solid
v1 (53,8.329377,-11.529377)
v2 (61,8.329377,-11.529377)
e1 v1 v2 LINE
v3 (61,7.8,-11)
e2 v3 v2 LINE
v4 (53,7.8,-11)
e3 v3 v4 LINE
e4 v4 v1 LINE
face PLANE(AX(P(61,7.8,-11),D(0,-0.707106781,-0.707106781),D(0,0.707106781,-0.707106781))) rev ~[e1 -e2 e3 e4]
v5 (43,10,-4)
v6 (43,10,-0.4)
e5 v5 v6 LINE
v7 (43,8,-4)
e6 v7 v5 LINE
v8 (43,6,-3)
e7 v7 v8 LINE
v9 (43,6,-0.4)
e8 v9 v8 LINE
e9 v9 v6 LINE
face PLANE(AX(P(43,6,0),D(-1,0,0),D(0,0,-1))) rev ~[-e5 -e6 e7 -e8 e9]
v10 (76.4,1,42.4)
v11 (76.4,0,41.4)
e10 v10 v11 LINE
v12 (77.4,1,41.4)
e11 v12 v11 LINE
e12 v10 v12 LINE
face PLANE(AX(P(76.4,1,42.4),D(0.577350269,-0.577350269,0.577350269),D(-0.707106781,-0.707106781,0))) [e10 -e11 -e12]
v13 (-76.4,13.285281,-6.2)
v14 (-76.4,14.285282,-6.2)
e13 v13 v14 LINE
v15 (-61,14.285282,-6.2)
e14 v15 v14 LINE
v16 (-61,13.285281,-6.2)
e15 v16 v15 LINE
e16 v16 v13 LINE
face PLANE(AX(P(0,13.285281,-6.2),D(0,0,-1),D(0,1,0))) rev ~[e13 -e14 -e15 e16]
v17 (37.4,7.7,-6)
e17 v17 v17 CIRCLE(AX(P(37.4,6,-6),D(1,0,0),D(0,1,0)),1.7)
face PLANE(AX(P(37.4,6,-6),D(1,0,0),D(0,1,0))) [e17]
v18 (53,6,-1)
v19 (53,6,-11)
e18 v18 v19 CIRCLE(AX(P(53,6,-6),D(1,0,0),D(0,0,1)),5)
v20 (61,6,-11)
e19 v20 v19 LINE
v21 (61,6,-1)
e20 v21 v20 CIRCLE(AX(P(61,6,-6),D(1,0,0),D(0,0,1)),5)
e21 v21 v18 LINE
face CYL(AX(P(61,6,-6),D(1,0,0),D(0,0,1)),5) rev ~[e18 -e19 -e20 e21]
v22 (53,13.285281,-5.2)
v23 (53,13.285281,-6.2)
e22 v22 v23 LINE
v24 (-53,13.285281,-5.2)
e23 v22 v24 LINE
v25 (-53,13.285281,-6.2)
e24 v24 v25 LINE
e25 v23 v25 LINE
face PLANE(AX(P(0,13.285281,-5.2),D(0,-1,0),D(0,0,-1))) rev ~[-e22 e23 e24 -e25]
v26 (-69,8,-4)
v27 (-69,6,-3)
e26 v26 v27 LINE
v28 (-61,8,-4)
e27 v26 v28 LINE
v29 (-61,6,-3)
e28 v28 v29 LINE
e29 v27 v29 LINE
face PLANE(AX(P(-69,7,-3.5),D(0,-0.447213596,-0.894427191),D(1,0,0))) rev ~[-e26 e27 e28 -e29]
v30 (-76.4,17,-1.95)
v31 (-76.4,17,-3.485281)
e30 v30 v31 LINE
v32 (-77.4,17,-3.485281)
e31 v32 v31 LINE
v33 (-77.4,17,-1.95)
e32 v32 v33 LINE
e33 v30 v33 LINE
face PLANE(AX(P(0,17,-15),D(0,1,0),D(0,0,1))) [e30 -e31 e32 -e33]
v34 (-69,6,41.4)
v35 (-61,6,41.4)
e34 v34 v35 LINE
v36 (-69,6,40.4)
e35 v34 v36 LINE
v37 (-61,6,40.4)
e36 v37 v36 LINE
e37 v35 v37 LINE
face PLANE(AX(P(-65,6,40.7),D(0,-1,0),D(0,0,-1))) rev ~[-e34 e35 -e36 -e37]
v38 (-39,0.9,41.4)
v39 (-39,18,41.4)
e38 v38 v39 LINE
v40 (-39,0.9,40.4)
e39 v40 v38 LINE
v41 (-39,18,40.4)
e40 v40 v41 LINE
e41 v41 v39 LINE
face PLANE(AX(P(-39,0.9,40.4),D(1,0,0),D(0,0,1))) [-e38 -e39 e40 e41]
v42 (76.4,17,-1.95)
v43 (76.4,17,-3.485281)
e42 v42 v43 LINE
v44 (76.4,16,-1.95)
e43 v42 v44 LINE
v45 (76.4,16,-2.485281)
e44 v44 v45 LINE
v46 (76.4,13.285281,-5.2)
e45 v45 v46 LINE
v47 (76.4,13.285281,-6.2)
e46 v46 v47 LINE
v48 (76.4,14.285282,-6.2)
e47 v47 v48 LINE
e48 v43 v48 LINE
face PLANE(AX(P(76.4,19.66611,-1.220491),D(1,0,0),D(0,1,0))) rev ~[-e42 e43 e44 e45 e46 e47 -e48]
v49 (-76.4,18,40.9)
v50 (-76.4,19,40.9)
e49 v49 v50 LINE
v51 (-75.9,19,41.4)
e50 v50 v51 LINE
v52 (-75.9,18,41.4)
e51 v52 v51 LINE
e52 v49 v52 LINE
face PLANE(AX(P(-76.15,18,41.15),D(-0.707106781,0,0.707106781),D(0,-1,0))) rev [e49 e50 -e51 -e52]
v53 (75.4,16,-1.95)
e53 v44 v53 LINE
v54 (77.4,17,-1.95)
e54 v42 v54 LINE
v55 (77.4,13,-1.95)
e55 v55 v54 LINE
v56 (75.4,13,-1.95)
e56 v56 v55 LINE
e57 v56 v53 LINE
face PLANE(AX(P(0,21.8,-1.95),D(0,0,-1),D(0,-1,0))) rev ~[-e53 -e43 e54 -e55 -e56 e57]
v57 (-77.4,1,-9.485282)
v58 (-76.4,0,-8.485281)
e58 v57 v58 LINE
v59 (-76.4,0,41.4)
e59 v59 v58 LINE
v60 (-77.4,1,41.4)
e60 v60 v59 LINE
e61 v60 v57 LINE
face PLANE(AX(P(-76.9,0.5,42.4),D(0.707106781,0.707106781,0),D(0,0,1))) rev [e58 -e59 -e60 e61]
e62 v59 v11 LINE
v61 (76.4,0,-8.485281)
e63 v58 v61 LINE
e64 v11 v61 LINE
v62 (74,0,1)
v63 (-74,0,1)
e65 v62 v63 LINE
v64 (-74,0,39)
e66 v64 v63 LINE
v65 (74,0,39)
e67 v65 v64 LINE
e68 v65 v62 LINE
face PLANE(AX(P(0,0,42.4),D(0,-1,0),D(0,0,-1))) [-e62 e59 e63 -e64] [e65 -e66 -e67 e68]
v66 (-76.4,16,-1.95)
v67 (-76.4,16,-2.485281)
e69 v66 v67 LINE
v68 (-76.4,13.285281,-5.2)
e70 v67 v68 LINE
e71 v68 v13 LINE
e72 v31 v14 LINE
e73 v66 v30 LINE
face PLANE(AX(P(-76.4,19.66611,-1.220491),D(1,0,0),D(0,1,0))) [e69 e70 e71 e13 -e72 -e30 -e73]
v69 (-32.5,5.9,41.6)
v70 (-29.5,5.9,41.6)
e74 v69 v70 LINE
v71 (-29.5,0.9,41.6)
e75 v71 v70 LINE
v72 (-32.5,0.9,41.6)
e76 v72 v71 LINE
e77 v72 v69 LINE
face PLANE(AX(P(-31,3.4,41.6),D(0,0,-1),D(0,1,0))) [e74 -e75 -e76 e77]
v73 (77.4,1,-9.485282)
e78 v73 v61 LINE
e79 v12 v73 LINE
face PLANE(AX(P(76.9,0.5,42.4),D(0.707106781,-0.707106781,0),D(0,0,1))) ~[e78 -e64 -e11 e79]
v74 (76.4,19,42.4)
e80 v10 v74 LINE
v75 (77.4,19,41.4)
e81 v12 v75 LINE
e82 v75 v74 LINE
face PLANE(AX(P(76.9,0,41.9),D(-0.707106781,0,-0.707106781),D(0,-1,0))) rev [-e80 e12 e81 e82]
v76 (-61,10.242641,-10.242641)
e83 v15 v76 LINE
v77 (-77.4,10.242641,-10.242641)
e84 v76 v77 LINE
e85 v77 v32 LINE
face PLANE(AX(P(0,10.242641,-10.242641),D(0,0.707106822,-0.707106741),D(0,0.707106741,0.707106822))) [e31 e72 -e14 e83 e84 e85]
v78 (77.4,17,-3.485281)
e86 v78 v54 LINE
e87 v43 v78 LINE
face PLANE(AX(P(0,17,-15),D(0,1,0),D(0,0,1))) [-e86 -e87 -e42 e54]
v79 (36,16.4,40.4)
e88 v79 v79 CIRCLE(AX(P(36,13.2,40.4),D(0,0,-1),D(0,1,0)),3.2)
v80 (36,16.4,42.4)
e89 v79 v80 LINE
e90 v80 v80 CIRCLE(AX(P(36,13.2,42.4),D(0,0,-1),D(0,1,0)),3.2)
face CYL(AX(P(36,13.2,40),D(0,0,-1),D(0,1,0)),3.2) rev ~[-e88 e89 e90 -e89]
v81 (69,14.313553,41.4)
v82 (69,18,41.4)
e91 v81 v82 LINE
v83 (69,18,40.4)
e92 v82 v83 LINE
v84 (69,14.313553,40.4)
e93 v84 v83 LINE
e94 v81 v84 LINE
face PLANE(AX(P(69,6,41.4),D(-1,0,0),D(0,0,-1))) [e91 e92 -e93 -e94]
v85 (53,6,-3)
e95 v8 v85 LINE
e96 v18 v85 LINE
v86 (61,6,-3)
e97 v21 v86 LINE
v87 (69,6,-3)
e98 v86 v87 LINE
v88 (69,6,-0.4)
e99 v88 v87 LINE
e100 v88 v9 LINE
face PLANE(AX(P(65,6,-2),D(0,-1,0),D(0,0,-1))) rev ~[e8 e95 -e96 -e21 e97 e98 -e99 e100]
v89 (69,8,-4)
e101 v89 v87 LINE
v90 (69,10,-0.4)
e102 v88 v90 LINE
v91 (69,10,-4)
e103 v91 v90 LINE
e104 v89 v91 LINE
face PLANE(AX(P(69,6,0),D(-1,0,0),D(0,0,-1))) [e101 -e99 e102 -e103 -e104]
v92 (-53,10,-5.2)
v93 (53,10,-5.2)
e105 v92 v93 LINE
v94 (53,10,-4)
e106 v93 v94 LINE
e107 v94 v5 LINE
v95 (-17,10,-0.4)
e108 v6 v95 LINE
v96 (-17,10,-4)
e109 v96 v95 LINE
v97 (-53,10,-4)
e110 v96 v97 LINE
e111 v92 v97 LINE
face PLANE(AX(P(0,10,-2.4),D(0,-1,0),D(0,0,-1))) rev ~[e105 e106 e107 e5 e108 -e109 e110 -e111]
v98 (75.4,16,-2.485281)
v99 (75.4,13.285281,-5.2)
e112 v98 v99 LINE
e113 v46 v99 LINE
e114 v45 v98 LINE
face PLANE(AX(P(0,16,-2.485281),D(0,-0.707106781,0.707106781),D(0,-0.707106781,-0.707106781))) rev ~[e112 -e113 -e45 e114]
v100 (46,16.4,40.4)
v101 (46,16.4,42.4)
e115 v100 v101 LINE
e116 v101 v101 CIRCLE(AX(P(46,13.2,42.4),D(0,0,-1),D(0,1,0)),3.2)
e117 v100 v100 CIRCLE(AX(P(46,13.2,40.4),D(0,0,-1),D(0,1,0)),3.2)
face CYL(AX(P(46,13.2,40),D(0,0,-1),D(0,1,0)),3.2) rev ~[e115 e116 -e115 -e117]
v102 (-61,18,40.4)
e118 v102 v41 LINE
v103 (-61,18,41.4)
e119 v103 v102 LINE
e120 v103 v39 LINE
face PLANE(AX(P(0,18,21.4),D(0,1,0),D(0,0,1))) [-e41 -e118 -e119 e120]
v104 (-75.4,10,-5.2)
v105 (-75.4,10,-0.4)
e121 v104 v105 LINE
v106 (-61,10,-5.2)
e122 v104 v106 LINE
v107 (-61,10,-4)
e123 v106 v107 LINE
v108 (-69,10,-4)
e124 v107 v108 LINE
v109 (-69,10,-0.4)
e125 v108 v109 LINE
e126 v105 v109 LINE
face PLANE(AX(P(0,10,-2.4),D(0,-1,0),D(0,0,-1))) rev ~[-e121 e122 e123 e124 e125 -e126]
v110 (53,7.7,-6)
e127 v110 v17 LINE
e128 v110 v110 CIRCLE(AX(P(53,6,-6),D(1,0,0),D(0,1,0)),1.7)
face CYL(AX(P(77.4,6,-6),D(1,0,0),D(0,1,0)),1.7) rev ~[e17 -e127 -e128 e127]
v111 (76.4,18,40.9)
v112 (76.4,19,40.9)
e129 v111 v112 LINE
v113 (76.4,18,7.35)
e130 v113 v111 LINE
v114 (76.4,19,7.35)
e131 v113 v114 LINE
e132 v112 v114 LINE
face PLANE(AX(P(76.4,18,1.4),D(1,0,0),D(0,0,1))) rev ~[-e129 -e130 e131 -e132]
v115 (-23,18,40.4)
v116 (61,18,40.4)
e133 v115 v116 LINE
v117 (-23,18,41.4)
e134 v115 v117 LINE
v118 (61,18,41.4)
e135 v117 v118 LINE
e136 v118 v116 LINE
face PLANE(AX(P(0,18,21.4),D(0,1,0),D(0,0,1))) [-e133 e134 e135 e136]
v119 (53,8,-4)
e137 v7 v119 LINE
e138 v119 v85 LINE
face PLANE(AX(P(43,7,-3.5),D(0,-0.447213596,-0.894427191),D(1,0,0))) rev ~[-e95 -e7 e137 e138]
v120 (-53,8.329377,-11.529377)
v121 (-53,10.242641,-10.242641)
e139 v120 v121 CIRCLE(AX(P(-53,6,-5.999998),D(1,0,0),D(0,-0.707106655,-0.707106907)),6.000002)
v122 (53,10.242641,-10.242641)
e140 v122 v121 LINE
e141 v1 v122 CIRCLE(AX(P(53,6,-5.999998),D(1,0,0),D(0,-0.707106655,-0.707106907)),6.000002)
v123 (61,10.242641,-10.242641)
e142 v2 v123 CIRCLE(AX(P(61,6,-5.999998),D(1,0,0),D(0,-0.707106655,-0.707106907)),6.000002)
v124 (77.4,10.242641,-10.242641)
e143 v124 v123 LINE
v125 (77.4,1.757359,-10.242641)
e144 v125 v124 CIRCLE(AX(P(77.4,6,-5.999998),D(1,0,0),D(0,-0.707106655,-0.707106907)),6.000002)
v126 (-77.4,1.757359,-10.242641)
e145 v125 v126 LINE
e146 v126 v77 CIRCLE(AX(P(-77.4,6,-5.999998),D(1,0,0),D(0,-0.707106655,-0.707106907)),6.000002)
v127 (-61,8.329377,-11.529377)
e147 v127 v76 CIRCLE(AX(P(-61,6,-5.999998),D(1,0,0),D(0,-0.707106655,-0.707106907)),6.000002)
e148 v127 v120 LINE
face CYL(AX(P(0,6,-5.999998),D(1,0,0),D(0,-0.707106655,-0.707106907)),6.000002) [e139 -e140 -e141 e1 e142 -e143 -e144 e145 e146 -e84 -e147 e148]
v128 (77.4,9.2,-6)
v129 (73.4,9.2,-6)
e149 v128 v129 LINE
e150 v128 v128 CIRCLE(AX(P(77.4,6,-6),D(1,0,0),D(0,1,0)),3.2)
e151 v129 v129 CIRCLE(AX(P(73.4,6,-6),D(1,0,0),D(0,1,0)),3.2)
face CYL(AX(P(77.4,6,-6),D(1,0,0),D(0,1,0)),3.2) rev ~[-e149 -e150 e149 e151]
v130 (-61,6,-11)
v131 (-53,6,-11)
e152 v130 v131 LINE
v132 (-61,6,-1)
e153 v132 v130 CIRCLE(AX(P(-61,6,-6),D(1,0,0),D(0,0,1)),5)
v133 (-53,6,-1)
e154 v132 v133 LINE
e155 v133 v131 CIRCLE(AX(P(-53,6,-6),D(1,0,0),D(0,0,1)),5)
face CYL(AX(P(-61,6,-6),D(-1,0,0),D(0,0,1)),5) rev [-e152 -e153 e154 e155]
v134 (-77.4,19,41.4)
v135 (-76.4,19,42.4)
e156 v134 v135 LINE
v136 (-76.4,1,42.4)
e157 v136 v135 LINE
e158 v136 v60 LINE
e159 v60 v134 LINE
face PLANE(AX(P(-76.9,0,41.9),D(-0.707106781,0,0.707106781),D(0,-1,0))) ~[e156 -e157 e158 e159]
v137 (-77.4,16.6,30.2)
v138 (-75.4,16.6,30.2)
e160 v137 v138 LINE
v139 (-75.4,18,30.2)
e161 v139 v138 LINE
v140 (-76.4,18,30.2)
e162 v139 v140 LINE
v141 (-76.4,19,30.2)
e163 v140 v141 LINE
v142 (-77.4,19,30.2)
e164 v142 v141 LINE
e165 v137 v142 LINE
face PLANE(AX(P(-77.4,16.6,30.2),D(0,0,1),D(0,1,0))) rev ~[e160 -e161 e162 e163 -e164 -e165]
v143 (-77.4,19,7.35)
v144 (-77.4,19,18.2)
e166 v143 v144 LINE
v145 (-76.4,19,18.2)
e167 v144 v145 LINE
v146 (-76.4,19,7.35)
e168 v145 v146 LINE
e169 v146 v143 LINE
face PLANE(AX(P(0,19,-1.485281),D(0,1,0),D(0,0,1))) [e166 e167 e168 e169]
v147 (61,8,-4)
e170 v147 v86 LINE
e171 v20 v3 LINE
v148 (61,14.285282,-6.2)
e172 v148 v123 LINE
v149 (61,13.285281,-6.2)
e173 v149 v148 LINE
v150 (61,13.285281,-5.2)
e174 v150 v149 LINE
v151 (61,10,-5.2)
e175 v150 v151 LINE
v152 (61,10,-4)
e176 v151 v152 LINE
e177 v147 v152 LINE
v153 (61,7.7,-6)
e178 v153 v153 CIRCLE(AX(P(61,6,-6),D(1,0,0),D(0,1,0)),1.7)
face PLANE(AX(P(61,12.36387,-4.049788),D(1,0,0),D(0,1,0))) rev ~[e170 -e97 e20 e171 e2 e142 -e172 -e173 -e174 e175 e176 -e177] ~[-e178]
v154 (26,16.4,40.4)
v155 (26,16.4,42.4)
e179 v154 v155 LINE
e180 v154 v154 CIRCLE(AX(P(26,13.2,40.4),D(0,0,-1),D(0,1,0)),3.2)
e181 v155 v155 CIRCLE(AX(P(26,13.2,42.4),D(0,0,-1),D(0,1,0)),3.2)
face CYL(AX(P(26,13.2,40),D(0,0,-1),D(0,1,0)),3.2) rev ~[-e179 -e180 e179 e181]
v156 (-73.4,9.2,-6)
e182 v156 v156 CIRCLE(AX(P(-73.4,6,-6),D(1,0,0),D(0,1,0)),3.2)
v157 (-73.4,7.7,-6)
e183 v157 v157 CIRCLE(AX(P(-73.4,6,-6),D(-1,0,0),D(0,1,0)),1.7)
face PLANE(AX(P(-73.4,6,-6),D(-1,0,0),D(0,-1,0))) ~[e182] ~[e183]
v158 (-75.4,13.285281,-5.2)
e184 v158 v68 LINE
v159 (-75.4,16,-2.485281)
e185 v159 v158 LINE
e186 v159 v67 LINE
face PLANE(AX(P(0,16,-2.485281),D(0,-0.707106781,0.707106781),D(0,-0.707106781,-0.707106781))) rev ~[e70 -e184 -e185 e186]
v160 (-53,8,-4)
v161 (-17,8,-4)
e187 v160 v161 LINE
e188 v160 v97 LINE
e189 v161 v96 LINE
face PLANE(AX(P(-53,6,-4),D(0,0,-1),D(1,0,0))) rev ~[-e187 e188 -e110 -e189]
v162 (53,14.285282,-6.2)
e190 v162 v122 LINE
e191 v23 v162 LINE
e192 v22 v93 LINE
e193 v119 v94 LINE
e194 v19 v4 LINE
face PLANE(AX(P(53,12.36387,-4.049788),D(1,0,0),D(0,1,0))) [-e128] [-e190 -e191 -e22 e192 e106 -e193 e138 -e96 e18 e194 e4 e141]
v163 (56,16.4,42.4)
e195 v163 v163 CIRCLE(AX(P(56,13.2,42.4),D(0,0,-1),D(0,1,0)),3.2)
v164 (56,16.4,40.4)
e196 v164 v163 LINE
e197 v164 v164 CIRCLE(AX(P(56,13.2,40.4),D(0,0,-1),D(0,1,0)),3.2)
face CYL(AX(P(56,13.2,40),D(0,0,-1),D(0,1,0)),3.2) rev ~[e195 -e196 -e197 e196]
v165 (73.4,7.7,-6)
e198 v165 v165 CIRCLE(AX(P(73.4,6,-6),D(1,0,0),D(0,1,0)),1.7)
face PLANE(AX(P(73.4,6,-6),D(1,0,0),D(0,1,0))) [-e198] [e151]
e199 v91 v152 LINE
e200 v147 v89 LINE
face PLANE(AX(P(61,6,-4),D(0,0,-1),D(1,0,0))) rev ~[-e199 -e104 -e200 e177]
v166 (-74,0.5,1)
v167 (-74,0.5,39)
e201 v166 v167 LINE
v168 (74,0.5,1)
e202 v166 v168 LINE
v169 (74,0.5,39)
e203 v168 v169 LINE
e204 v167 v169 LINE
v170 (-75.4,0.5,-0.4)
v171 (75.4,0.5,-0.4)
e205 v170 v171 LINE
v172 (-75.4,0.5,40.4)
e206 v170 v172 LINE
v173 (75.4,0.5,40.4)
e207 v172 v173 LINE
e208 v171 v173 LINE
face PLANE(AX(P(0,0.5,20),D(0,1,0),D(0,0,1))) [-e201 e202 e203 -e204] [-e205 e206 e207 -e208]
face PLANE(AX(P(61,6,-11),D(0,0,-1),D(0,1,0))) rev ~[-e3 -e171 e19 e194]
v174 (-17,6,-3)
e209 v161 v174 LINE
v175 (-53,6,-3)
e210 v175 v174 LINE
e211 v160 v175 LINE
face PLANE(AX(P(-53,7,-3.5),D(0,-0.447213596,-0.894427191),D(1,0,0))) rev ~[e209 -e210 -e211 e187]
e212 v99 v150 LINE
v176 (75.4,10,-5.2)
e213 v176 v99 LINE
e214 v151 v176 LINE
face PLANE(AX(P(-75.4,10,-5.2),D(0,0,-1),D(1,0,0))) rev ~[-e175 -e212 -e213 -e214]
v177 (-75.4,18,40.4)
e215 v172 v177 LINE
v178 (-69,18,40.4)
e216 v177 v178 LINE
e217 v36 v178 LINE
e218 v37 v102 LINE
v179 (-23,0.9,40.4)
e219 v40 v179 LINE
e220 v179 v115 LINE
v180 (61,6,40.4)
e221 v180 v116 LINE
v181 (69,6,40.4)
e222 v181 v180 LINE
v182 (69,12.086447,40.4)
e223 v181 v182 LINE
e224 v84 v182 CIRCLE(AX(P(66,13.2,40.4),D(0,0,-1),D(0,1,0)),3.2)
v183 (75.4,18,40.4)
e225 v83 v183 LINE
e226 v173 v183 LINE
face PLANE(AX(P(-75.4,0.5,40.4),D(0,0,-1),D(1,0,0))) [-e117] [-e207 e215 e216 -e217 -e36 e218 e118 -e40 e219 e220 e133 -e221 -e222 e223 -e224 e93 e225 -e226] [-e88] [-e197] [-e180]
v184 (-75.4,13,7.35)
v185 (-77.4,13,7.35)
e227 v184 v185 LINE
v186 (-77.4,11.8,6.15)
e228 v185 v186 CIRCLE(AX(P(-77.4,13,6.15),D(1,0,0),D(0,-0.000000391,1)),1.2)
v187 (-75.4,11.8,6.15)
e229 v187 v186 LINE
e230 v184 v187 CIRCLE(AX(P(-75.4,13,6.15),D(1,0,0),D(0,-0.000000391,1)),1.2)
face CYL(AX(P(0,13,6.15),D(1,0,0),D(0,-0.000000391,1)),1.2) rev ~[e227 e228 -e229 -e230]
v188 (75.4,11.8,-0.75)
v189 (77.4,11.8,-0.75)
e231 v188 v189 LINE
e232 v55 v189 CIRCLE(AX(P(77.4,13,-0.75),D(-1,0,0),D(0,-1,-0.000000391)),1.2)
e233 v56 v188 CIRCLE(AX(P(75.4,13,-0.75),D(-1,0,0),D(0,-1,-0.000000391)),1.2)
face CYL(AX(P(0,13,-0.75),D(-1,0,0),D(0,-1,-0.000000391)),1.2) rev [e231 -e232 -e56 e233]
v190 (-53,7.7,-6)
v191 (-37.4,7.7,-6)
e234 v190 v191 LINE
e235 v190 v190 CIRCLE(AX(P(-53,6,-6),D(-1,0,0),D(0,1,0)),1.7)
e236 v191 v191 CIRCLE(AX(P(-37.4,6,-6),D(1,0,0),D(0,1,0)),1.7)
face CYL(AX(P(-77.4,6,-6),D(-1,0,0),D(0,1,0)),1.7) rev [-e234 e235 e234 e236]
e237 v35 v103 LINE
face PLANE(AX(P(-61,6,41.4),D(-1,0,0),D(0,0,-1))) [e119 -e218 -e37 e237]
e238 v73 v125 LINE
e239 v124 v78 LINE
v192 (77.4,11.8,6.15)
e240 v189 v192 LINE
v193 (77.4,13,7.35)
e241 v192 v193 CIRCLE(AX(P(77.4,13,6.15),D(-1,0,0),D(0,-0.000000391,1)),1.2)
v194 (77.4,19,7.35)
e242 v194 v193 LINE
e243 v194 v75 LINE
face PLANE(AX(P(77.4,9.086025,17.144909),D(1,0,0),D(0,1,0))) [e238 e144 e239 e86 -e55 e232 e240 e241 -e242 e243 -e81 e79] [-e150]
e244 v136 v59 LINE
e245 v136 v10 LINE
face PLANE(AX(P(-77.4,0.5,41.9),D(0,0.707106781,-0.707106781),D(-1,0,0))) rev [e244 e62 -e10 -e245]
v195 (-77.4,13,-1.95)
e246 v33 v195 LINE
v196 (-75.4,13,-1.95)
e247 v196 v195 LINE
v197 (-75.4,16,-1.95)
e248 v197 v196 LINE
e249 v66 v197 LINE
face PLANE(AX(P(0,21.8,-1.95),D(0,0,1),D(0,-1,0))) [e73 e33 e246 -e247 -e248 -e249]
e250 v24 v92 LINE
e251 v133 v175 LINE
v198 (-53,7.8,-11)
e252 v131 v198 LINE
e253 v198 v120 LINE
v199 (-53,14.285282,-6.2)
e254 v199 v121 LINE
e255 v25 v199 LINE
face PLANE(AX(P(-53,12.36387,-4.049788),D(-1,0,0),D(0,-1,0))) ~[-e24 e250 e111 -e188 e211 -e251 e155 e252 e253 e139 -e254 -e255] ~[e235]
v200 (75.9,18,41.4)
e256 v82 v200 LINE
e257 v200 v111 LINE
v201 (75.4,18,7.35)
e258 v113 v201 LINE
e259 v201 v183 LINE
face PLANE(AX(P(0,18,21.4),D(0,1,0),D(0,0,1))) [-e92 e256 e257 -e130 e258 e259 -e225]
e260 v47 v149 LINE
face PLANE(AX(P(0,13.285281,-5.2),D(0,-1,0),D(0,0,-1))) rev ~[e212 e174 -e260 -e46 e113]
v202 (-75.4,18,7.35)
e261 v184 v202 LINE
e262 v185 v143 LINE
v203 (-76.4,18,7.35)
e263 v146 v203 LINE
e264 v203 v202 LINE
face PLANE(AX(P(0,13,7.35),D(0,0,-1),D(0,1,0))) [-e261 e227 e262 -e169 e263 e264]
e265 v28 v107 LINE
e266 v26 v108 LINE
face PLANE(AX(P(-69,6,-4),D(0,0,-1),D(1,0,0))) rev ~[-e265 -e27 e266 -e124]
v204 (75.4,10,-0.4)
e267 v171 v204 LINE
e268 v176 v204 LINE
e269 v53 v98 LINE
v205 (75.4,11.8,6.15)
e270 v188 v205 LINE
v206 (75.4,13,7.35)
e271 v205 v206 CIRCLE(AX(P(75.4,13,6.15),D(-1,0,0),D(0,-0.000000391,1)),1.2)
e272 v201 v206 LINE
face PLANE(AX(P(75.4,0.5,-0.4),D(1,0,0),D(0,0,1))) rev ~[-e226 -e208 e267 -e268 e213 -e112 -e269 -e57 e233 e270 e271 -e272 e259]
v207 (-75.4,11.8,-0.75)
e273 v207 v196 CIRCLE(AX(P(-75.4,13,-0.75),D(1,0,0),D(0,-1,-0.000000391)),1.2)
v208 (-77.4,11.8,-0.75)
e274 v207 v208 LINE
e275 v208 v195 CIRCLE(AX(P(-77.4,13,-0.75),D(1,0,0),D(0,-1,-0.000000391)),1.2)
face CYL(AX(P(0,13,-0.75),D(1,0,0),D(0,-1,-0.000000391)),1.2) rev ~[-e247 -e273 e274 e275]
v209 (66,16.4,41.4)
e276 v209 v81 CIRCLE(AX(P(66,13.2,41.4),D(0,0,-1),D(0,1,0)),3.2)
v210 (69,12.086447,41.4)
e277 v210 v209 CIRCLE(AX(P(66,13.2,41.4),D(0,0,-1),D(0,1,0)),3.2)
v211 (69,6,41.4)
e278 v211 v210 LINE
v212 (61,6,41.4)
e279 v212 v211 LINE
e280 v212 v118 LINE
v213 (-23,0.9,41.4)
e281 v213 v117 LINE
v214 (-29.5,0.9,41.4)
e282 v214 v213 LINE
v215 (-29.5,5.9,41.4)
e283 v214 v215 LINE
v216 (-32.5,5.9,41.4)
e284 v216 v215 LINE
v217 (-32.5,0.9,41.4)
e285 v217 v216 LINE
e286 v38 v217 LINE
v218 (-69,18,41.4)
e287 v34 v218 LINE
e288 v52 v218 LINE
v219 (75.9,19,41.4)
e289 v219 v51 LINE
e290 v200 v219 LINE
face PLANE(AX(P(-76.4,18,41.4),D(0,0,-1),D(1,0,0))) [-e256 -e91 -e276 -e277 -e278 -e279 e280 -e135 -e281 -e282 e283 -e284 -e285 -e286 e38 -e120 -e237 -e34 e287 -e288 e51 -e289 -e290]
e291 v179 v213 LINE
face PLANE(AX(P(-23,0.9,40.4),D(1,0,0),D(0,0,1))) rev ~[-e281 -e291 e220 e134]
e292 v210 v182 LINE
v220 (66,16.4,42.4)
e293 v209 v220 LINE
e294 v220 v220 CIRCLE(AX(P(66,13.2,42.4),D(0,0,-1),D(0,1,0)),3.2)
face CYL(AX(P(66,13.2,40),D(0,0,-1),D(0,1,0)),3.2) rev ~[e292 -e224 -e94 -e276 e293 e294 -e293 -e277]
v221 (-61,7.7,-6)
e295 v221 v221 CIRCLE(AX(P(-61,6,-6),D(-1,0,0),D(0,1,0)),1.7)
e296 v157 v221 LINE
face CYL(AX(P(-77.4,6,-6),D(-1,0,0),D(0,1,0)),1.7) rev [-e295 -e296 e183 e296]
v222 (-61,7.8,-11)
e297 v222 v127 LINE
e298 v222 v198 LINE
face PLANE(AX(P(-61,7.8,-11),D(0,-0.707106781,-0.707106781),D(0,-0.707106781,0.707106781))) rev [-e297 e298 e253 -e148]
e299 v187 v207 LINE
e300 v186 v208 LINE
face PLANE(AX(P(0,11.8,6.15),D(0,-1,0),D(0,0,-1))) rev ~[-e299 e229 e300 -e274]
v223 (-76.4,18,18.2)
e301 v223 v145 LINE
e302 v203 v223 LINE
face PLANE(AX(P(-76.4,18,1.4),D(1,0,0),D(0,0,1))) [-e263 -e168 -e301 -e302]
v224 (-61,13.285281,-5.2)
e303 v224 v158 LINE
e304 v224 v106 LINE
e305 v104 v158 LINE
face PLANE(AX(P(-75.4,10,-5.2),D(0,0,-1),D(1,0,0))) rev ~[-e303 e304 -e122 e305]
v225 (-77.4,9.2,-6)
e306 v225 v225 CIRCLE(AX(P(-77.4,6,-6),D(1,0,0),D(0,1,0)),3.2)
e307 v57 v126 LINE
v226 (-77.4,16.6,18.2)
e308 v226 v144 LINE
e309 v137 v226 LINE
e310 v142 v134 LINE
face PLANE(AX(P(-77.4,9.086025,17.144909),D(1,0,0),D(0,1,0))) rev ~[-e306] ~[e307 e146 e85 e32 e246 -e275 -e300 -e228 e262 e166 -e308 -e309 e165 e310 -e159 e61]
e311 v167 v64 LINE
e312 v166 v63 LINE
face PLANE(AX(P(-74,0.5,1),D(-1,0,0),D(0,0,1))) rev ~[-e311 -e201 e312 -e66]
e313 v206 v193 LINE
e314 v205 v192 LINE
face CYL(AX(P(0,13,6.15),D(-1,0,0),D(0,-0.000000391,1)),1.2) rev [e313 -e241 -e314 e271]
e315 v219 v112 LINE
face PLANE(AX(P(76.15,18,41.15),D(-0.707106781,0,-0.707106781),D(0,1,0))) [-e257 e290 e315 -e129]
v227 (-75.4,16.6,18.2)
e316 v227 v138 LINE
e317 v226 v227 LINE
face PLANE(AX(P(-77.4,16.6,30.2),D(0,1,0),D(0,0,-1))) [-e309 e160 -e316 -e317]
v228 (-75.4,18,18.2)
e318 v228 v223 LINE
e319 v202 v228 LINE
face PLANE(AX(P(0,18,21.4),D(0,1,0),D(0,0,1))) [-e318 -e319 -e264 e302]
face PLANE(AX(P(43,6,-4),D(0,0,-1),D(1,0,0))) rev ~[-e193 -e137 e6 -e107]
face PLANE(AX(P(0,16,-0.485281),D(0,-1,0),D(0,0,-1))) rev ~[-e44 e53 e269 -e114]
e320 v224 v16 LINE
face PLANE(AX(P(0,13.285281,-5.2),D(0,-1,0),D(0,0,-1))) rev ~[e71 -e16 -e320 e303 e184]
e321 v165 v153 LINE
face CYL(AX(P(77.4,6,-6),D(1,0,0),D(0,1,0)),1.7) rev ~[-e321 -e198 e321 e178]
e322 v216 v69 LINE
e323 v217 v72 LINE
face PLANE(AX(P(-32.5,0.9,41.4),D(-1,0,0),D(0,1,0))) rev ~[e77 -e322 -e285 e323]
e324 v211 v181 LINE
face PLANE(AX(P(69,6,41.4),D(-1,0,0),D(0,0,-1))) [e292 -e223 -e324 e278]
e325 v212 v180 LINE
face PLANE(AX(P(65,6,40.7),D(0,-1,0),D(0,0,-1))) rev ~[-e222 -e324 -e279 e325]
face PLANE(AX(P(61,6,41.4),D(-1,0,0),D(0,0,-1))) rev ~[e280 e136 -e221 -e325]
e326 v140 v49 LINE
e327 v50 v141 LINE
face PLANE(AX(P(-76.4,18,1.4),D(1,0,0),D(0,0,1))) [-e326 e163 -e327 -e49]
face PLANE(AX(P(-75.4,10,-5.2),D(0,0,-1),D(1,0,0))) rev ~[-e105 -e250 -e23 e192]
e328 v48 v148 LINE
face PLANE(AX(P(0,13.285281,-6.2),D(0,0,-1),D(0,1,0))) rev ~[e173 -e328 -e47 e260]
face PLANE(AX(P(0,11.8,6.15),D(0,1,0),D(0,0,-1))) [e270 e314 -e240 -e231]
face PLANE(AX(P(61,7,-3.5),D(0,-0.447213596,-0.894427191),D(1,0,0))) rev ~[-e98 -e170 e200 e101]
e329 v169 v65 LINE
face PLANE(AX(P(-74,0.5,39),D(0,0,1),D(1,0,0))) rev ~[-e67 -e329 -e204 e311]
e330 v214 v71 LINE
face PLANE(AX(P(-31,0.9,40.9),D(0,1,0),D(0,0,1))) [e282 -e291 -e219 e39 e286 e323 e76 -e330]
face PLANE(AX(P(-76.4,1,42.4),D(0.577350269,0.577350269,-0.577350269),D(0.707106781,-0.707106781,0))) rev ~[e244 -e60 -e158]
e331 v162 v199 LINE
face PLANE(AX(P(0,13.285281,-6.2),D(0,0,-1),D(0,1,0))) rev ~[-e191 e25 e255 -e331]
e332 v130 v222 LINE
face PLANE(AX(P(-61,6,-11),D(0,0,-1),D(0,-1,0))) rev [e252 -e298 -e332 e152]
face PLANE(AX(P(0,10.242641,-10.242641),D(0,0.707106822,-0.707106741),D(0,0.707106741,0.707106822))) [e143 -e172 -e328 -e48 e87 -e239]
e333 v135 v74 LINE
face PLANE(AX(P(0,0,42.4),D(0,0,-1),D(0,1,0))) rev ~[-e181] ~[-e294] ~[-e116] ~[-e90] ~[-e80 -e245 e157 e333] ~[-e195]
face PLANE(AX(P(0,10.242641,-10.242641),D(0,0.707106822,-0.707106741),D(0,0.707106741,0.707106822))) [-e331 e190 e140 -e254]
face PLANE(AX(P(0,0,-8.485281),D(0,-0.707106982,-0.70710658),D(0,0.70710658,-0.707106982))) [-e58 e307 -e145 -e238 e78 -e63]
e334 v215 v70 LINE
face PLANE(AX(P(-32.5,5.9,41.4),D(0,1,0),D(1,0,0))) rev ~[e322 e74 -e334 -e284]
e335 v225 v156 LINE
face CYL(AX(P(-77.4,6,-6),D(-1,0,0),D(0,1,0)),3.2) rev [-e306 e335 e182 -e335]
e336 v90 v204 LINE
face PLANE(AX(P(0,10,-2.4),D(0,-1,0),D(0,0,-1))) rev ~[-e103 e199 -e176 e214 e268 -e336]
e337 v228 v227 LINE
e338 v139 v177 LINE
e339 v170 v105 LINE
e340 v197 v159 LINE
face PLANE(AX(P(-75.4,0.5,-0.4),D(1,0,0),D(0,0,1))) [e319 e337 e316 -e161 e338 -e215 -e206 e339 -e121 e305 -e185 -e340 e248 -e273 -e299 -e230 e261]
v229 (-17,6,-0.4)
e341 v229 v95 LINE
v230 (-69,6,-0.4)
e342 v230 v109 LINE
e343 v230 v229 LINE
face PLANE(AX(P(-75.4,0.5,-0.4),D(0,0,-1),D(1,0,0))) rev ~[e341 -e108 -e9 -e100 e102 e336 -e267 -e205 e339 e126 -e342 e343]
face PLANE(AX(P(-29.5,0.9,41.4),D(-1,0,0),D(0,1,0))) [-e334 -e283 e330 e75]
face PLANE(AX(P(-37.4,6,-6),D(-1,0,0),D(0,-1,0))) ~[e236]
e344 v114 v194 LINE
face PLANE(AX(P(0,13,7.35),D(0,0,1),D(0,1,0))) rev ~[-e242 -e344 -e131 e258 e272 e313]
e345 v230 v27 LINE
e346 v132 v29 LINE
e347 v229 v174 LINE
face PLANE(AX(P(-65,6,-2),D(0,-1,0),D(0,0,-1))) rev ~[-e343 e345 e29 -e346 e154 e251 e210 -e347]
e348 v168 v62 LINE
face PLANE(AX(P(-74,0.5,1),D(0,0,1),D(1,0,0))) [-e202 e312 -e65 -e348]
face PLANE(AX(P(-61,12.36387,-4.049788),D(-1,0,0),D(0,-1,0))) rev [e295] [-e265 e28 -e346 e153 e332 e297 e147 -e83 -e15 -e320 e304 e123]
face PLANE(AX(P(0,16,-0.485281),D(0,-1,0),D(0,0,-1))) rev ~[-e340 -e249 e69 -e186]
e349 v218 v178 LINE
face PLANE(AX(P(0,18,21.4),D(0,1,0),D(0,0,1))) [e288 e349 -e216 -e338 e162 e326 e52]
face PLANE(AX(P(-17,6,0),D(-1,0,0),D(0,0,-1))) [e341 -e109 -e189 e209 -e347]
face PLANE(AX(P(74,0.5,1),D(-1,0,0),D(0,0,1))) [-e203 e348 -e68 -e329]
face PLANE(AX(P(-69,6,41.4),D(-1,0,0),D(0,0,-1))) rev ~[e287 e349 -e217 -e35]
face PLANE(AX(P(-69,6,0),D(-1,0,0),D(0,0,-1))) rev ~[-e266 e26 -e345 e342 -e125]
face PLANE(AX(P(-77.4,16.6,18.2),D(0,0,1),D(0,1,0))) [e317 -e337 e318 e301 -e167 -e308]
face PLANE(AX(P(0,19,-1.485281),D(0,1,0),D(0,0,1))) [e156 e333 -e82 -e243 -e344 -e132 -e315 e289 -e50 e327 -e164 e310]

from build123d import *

# Parameters (mm, degrees)
PAD_DEPTH            = 77.4
SKETCH002_W          = 40
SKETCH002_H          = 150
POCKET_DEPTH         = 18.501
SKETCH005_W          = 38
SKETCH005_H          = 148
POCKET003_DEPTH      = 0.501
SKETCH021_W          = 40.8
SKETCH021_H          = 150.8
POCKET018_DEPTH      = 18.501
SKETCH003_W          = 4
SKETCH003_H          = 8
SKETCH003_H_2        = 10
SKETCH003_H_3        = 36
SKETCH003_W_2        = 1.4
POCKET001_DEPTH      = 13.001
CHAMFER_1_SIZE2      = 1
CHAMFER_1_SIZE       = 2
CHAMFER_2_SIZE2      = 1
CHAMFER_2_SIZE       = 2
CHAMFER_3_SIZE2      = 1
CHAMFER_3_SIZE       = 2
CHAMFER_4_SIZE2      = 1
CHAMFER_4_SIZE       = 2
SKETCH004_W          = 4.8
SKETCH004_H          = 150
POCKET002_DEPTH      = 9.001
SKETCH022_W          = 5.2
SKETCH022_H          = 150.8
POCKET019_DEPTH      = 9.001
POCKET009_DEPTH      = 8
SKETCH013_R          = 1.7
POCKET010_DEPTH      = 40
SKETCH014_R          = 3.2
POCKET011_DEPTH      = 4
SKETCH006_W          = 1
SKETCH006_H          = 16
POCKET004_DEPTH      = 17.1
SKETCH020_W          = 5
SKETCH020_H          = 3
POCKET017_DEPTH      = 0.2
POCKET005_DEPTH      = 77.401
POCKET005_DEPTH_BACK = 77.401
SKETCH016_W          = 5
SKETCH016_H          = 12
POCKET012_DEPTH      = 10
SKETCH008_W          = 40
SKETCH008_H          = 152.8
POCKET006_DEPTH      = 1.001
SKETCH023_W          = 30
SKETCH023_H          = 170
POCKET020_DEPTH      = 2
POCKET007_DEPTH      = 76.4
SKETCH010_R          = 3.2
POCKET008_DEPTH      = 2.401
CHAMFER001_SIZE      = 1
CHAMFER002_SIZE      = 0.5


with BuildPart() as part:
    # Sketch001 → Pad (new body, symmetric)
    with BuildSketch(Plane.YZ):
        with BuildLine():
            Line((19, -1.485281), (19, 42.4))
            Line((0, 42.4), (19, 42.4))
            Line((0, 42.4), (0, 0))
            Line((0, 0), (0, -8.485281))
            Line((0, -8.485281), (1.757359, -10.242641))
            ThreePointArc((1.757359, -10.242641), (6, -12), (10.242641, -10.242641))
            Line((10.242641, -10.242641), (19, -1.485281))
        make_face()
    extrude(amount=PAD_DEPTH, both=True)

    # Sketch002 (on Face3 of Pad) → Pocket (cut, through all)
    with BuildSketch(Plane(origin=(0, 0.5, 0), x_dir=(0, 0, -1), z_dir=(0, -1, 0))):
        with Locations((-20, 0)):
            Rectangle(SKETCH002_W, SKETCH002_H)
    extrude(amount=-POCKET_DEPTH, mode=Mode.SUBTRACT)

    # Sketch005 (on Face14 of Pocket) → Pocket003 (cut, through all)
    with BuildSketch(Plane.ZX.offset(0.5)):
        with Locations((20, 0)):
            Rectangle(SKETCH005_W, SKETCH005_H)
    extrude(amount=-POCKET003_DEPTH, mode=Mode.SUBTRACT)

    # Sketch021 (on Face14 of Pocket) → Pocket018 (cut, through all)
    with BuildSketch(Plane.ZX.offset(0.5)):
        with Locations((20, 0)):
            Rectangle(SKETCH021_W, SKETCH021_H)
    extrude(amount=POCKET018_DEPTH, mode=Mode.SUBTRACT)

    # Sketch003 (on Face3 of Pad) → Pocket001 (cut, through all)
    with BuildSketch(Plane(origin=(0, 6, 0), x_dir=(0, 0, -1), z_dir=(0, -1, 0))):
        with Locations((2, 65)):
            Rectangle(SKETCH003_W, SKETCH003_H)
        with Locations((2, 48)):
            Rectangle(SKETCH003_W, SKETCH003_H_2)
        with Locations((2, -35)):
            Rectangle(SKETCH003_W, SKETCH003_H_3)
        with Locations((2, -65)):
            Rectangle(SKETCH003_W, SKETCH003_H)
        with Locations((-40.7, 65)):
            Rectangle(SKETCH003_W_2, SKETCH003_H)
        with Locations((-40.7, -65)):
            Rectangle(SKETCH003_W_2, SKETCH003_H)
    extrude(amount=-POCKET001_DEPTH, mode=Mode.SUBTRACT)

    # Chamfer 1
    chamfer_1_edges = [part.edges().sort_by_distance(p)[0] for p in [
        (65, 6, -4),
    ]]
    chamfer_1_side = part.faces().sort_by_distance((65, 11.242641, -4))[0]
    chamfer(chamfer_1_edges, length=CHAMFER_1_SIZE, length2=CHAMFER_1_SIZE2, reference=chamfer_1_side)

    # Chamfer 2
    chamfer_2_edges = [part.edges().sort_by_distance(p)[0] for p in [
        (48, 6, -4),
    ]]
    chamfer_2_side = part.faces().sort_by_distance((48, 11.242641, -4))[0]
    chamfer(chamfer_2_edges, length=CHAMFER_2_SIZE, length2=CHAMFER_2_SIZE2, reference=chamfer_2_side)

    # Chamfer 3
    chamfer_3_edges = [part.edges().sort_by_distance(p)[0] for p in [
        (-35, 6, -4),
    ]]
    chamfer_3_side = part.faces().sort_by_distance((-35, 11.242641, -4))[0]
    chamfer(chamfer_3_edges, length=CHAMFER_3_SIZE, length2=CHAMFER_3_SIZE2, reference=chamfer_3_side)

    # Chamfer 4
    chamfer_4_edges = [part.edges().sort_by_distance(p)[0] for p in [
        (-65, 6, -4),
    ]]
    chamfer_4_side = part.faces().sort_by_distance((-65, 11.242641, -4))[0]
    chamfer(chamfer_4_edges, length=CHAMFER_4_SIZE, length2=CHAMFER_4_SIZE2, reference=chamfer_4_side)

    # Sketch004 (on Face3 of Pad) → Pocket002 (cut, through all)
    with BuildSketch(Plane(origin=(0, 10, 0), x_dir=(0, 0, -1), z_dir=(0, -1, 0))):
        with Locations((2.4, 0)):
            Rectangle(SKETCH004_W, SKETCH004_H)
    extrude(amount=-POCKET002_DEPTH, mode=Mode.SUBTRACT)

    # Sketch022 (on Face4 of Pocket002) → Pocket019 (cut, through all)
    with BuildSketch(Plane.ZX.offset(10)):
        with Locations((-2.6, 0)):
            Rectangle(SKETCH022_W, SKETCH022_H)
    extrude(amount=POCKET019_DEPTH, mode=Mode.SUBTRACT)

    # Sketch011 (on Face33 of Pocket001) → Pocket009 (cut)
    with BuildSketch(Plane.YZ.offset(61)):
        with BuildLine():
            ThreePointArc((6, -1), (1, -6), (6, -11))
            Line((6, -11), (7.8, -11))
            Line((7.8, -11), (8.8, -12))
            Line((8.8, -12), (21, -12))
            Line((21, 4), (21, -12))
            Line((6, 4), (21, 4))
            Line((6, -1), (6, 4))
        make_face()
    pocket009 = extrude(amount=-POCKET009_DEPTH, mode=Mode.SUBTRACT)

    # Sketch013 (on Face9 of Pad) → Pocket010 (cut)
    with BuildSketch(Plane.YZ.offset(77.4)):
        with Locations((6, -6)):
            Circle(SKETCH013_R)
    pocket010 = extrude(amount=-POCKET010_DEPTH, mode=Mode.SUBTRACT)

    # Sketch014 (on Face9 of Pad) → Pocket011 (cut)
    with BuildSketch(Plane.YZ.offset(77.4)):
        with Locations((6, -6)):
            Circle(SKETCH014_R)
    pocket011 = extrude(amount=-POCKET011_DEPTH, mode=Mode.SUBTRACT)

    # Mirrored: Pocket011, Pocket010, Pocket009 across YZ
    add(pocket011.mirror(Plane.YZ), mode=Mode.SUBTRACT)
    add(pocket010.mirror(Plane.YZ), mode=Mode.SUBTRACT)
    add(pocket009.mirror(Plane.YZ), mode=Mode.SUBTRACT)

    # Sketch006 (on Face14 of Pocket) → Pocket004 (cut)
    with BuildSketch(Plane.ZX.offset(0.9)):
        with Locations((40.9, -31)):
            Rectangle(SKETCH006_W, SKETCH006_H)
    extrude(amount=POCKET004_DEPTH, mode=Mode.SUBTRACT)

    # Sketch020 (on Face82 of Pocket004) → Pocket017 (cut)
    with BuildSketch(Plane.YX.offset(-41.4)):
        with Locations((3.4, -31)):
            Rectangle(SKETCH020_W, SKETCH020_H)
    extrude(amount=-POCKET017_DEPTH, mode=Mode.SUBTRACT)

    # Sketch007 → Pocket005 (cut, two sides)
    with BuildSketch(Plane.YZ) as pocket005_sk:
        with BuildLine():
            Line((13, 7.35), (21.8, 7.35))
            Line((21.8, 7.35), (21.8, -1.95))
            Line((21.8, -1.95), (13, -1.95))
            ThreePointArc((11.8, -0.75), (12.151472, -1.598528), (13, -1.95))
            Line((11.8, 6.15), (11.8, -0.75))
            ThreePointArc((13, 7.35), (12.151472, 6.998528), (11.8, 6.15))
        make_face()
    extrude(amount=-POCKET005_DEPTH, mode=Mode.SUBTRACT)
    extrude(pocket005_sk.sketch, amount=POCKET005_DEPTH_BACK, mode=Mode.SUBTRACT)

    # Sketch016 (on Face8 of Pad) → Pocket012 (cut)
    with BuildSketch(Plane(origin=(-77.4, 0, 0), x_dir=(0, 1, 0), z_dir=(-1, 0, 0))):
        with Locations((19.1, -24.2)):
            Rectangle(SKETCH016_W, SKETCH016_H)
    extrude(amount=-POCKET012_DEPTH, mode=Mode.SUBTRACT)

    # Sketch008 (on Face1 of Pad) → Pocket006 (cut, through all)
    with BuildSketch(Plane.ZX.offset(18)):
        with Locations((21.4, 0)):
            Rectangle(SKETCH008_W, SKETCH008_H)
    extrude(amount=POCKET006_DEPTH, mode=Mode.SUBTRACT)

    # Sketch023 (on Face1 of Pad) → Pocket020 (cut)
    with BuildSketch(Plane.ZX.offset(19)):
        with Locations((-15, 0)):
            Rectangle(SKETCH023_W, SKETCH023_H)
    extrude(amount=-POCKET020_DEPTH, mode=Mode.SUBTRACT)

    # Sketch009 → Pocket007 (cut, symmetric)
    with BuildSketch(Plane.YZ):
        Polygon((13.285281, -6.2), (23.285281, -6.2), (23.285281, 6.8), (16, -0.485281), (16, -2.485281), (13.285281, -5.2), align=None)
    extrude(amount=POCKET007_DEPTH, both=True, mode=Mode.SUBTRACT)

    # Sketch010 (on Face7 of Pocket) → Pocket008 (cut, through all)
    with BuildSketch(Plane.YX.offset(-40)):
        with Locations((13.2, 66)):
            Circle(SKETCH010_R)
        with Locations((13.2, 56)):
            Circle(SKETCH010_R)
        with Locations((13.2, 46)):
            Circle(SKETCH010_R)
        with Locations((13.2, 36)):
            Circle(SKETCH010_R)
        with Locations((13.2, 26)):
            Circle(SKETCH010_R)
    extrude(amount=-POCKET008_DEPTH, mode=Mode.SUBTRACT)

    # Chamfer001
    chamfer001_edges = [part.edges().sort_by_distance(p)[0] for p in [
        (77.4, 0, 21.2),
        (77.4, 9.5, 42.4),
        (-77.4, 0, 21.2),
        (-77.4, 9.5, 42.4),
        (0, 0, 42.4),
    ]]
    chamfer(chamfer001_edges, length=CHAMFER001_SIZE)

    # Chamfer002
    chamfer002_edges = [part.edges().sort_by_distance(p)[0] for p in [
        (-76.4, 18.5, 41.4),
        (76.4, 18.5, 41.4),
    ]]
    chamfer(chamfer002_edges, length=CHAMFER002_SIZE)


solid = part.part
